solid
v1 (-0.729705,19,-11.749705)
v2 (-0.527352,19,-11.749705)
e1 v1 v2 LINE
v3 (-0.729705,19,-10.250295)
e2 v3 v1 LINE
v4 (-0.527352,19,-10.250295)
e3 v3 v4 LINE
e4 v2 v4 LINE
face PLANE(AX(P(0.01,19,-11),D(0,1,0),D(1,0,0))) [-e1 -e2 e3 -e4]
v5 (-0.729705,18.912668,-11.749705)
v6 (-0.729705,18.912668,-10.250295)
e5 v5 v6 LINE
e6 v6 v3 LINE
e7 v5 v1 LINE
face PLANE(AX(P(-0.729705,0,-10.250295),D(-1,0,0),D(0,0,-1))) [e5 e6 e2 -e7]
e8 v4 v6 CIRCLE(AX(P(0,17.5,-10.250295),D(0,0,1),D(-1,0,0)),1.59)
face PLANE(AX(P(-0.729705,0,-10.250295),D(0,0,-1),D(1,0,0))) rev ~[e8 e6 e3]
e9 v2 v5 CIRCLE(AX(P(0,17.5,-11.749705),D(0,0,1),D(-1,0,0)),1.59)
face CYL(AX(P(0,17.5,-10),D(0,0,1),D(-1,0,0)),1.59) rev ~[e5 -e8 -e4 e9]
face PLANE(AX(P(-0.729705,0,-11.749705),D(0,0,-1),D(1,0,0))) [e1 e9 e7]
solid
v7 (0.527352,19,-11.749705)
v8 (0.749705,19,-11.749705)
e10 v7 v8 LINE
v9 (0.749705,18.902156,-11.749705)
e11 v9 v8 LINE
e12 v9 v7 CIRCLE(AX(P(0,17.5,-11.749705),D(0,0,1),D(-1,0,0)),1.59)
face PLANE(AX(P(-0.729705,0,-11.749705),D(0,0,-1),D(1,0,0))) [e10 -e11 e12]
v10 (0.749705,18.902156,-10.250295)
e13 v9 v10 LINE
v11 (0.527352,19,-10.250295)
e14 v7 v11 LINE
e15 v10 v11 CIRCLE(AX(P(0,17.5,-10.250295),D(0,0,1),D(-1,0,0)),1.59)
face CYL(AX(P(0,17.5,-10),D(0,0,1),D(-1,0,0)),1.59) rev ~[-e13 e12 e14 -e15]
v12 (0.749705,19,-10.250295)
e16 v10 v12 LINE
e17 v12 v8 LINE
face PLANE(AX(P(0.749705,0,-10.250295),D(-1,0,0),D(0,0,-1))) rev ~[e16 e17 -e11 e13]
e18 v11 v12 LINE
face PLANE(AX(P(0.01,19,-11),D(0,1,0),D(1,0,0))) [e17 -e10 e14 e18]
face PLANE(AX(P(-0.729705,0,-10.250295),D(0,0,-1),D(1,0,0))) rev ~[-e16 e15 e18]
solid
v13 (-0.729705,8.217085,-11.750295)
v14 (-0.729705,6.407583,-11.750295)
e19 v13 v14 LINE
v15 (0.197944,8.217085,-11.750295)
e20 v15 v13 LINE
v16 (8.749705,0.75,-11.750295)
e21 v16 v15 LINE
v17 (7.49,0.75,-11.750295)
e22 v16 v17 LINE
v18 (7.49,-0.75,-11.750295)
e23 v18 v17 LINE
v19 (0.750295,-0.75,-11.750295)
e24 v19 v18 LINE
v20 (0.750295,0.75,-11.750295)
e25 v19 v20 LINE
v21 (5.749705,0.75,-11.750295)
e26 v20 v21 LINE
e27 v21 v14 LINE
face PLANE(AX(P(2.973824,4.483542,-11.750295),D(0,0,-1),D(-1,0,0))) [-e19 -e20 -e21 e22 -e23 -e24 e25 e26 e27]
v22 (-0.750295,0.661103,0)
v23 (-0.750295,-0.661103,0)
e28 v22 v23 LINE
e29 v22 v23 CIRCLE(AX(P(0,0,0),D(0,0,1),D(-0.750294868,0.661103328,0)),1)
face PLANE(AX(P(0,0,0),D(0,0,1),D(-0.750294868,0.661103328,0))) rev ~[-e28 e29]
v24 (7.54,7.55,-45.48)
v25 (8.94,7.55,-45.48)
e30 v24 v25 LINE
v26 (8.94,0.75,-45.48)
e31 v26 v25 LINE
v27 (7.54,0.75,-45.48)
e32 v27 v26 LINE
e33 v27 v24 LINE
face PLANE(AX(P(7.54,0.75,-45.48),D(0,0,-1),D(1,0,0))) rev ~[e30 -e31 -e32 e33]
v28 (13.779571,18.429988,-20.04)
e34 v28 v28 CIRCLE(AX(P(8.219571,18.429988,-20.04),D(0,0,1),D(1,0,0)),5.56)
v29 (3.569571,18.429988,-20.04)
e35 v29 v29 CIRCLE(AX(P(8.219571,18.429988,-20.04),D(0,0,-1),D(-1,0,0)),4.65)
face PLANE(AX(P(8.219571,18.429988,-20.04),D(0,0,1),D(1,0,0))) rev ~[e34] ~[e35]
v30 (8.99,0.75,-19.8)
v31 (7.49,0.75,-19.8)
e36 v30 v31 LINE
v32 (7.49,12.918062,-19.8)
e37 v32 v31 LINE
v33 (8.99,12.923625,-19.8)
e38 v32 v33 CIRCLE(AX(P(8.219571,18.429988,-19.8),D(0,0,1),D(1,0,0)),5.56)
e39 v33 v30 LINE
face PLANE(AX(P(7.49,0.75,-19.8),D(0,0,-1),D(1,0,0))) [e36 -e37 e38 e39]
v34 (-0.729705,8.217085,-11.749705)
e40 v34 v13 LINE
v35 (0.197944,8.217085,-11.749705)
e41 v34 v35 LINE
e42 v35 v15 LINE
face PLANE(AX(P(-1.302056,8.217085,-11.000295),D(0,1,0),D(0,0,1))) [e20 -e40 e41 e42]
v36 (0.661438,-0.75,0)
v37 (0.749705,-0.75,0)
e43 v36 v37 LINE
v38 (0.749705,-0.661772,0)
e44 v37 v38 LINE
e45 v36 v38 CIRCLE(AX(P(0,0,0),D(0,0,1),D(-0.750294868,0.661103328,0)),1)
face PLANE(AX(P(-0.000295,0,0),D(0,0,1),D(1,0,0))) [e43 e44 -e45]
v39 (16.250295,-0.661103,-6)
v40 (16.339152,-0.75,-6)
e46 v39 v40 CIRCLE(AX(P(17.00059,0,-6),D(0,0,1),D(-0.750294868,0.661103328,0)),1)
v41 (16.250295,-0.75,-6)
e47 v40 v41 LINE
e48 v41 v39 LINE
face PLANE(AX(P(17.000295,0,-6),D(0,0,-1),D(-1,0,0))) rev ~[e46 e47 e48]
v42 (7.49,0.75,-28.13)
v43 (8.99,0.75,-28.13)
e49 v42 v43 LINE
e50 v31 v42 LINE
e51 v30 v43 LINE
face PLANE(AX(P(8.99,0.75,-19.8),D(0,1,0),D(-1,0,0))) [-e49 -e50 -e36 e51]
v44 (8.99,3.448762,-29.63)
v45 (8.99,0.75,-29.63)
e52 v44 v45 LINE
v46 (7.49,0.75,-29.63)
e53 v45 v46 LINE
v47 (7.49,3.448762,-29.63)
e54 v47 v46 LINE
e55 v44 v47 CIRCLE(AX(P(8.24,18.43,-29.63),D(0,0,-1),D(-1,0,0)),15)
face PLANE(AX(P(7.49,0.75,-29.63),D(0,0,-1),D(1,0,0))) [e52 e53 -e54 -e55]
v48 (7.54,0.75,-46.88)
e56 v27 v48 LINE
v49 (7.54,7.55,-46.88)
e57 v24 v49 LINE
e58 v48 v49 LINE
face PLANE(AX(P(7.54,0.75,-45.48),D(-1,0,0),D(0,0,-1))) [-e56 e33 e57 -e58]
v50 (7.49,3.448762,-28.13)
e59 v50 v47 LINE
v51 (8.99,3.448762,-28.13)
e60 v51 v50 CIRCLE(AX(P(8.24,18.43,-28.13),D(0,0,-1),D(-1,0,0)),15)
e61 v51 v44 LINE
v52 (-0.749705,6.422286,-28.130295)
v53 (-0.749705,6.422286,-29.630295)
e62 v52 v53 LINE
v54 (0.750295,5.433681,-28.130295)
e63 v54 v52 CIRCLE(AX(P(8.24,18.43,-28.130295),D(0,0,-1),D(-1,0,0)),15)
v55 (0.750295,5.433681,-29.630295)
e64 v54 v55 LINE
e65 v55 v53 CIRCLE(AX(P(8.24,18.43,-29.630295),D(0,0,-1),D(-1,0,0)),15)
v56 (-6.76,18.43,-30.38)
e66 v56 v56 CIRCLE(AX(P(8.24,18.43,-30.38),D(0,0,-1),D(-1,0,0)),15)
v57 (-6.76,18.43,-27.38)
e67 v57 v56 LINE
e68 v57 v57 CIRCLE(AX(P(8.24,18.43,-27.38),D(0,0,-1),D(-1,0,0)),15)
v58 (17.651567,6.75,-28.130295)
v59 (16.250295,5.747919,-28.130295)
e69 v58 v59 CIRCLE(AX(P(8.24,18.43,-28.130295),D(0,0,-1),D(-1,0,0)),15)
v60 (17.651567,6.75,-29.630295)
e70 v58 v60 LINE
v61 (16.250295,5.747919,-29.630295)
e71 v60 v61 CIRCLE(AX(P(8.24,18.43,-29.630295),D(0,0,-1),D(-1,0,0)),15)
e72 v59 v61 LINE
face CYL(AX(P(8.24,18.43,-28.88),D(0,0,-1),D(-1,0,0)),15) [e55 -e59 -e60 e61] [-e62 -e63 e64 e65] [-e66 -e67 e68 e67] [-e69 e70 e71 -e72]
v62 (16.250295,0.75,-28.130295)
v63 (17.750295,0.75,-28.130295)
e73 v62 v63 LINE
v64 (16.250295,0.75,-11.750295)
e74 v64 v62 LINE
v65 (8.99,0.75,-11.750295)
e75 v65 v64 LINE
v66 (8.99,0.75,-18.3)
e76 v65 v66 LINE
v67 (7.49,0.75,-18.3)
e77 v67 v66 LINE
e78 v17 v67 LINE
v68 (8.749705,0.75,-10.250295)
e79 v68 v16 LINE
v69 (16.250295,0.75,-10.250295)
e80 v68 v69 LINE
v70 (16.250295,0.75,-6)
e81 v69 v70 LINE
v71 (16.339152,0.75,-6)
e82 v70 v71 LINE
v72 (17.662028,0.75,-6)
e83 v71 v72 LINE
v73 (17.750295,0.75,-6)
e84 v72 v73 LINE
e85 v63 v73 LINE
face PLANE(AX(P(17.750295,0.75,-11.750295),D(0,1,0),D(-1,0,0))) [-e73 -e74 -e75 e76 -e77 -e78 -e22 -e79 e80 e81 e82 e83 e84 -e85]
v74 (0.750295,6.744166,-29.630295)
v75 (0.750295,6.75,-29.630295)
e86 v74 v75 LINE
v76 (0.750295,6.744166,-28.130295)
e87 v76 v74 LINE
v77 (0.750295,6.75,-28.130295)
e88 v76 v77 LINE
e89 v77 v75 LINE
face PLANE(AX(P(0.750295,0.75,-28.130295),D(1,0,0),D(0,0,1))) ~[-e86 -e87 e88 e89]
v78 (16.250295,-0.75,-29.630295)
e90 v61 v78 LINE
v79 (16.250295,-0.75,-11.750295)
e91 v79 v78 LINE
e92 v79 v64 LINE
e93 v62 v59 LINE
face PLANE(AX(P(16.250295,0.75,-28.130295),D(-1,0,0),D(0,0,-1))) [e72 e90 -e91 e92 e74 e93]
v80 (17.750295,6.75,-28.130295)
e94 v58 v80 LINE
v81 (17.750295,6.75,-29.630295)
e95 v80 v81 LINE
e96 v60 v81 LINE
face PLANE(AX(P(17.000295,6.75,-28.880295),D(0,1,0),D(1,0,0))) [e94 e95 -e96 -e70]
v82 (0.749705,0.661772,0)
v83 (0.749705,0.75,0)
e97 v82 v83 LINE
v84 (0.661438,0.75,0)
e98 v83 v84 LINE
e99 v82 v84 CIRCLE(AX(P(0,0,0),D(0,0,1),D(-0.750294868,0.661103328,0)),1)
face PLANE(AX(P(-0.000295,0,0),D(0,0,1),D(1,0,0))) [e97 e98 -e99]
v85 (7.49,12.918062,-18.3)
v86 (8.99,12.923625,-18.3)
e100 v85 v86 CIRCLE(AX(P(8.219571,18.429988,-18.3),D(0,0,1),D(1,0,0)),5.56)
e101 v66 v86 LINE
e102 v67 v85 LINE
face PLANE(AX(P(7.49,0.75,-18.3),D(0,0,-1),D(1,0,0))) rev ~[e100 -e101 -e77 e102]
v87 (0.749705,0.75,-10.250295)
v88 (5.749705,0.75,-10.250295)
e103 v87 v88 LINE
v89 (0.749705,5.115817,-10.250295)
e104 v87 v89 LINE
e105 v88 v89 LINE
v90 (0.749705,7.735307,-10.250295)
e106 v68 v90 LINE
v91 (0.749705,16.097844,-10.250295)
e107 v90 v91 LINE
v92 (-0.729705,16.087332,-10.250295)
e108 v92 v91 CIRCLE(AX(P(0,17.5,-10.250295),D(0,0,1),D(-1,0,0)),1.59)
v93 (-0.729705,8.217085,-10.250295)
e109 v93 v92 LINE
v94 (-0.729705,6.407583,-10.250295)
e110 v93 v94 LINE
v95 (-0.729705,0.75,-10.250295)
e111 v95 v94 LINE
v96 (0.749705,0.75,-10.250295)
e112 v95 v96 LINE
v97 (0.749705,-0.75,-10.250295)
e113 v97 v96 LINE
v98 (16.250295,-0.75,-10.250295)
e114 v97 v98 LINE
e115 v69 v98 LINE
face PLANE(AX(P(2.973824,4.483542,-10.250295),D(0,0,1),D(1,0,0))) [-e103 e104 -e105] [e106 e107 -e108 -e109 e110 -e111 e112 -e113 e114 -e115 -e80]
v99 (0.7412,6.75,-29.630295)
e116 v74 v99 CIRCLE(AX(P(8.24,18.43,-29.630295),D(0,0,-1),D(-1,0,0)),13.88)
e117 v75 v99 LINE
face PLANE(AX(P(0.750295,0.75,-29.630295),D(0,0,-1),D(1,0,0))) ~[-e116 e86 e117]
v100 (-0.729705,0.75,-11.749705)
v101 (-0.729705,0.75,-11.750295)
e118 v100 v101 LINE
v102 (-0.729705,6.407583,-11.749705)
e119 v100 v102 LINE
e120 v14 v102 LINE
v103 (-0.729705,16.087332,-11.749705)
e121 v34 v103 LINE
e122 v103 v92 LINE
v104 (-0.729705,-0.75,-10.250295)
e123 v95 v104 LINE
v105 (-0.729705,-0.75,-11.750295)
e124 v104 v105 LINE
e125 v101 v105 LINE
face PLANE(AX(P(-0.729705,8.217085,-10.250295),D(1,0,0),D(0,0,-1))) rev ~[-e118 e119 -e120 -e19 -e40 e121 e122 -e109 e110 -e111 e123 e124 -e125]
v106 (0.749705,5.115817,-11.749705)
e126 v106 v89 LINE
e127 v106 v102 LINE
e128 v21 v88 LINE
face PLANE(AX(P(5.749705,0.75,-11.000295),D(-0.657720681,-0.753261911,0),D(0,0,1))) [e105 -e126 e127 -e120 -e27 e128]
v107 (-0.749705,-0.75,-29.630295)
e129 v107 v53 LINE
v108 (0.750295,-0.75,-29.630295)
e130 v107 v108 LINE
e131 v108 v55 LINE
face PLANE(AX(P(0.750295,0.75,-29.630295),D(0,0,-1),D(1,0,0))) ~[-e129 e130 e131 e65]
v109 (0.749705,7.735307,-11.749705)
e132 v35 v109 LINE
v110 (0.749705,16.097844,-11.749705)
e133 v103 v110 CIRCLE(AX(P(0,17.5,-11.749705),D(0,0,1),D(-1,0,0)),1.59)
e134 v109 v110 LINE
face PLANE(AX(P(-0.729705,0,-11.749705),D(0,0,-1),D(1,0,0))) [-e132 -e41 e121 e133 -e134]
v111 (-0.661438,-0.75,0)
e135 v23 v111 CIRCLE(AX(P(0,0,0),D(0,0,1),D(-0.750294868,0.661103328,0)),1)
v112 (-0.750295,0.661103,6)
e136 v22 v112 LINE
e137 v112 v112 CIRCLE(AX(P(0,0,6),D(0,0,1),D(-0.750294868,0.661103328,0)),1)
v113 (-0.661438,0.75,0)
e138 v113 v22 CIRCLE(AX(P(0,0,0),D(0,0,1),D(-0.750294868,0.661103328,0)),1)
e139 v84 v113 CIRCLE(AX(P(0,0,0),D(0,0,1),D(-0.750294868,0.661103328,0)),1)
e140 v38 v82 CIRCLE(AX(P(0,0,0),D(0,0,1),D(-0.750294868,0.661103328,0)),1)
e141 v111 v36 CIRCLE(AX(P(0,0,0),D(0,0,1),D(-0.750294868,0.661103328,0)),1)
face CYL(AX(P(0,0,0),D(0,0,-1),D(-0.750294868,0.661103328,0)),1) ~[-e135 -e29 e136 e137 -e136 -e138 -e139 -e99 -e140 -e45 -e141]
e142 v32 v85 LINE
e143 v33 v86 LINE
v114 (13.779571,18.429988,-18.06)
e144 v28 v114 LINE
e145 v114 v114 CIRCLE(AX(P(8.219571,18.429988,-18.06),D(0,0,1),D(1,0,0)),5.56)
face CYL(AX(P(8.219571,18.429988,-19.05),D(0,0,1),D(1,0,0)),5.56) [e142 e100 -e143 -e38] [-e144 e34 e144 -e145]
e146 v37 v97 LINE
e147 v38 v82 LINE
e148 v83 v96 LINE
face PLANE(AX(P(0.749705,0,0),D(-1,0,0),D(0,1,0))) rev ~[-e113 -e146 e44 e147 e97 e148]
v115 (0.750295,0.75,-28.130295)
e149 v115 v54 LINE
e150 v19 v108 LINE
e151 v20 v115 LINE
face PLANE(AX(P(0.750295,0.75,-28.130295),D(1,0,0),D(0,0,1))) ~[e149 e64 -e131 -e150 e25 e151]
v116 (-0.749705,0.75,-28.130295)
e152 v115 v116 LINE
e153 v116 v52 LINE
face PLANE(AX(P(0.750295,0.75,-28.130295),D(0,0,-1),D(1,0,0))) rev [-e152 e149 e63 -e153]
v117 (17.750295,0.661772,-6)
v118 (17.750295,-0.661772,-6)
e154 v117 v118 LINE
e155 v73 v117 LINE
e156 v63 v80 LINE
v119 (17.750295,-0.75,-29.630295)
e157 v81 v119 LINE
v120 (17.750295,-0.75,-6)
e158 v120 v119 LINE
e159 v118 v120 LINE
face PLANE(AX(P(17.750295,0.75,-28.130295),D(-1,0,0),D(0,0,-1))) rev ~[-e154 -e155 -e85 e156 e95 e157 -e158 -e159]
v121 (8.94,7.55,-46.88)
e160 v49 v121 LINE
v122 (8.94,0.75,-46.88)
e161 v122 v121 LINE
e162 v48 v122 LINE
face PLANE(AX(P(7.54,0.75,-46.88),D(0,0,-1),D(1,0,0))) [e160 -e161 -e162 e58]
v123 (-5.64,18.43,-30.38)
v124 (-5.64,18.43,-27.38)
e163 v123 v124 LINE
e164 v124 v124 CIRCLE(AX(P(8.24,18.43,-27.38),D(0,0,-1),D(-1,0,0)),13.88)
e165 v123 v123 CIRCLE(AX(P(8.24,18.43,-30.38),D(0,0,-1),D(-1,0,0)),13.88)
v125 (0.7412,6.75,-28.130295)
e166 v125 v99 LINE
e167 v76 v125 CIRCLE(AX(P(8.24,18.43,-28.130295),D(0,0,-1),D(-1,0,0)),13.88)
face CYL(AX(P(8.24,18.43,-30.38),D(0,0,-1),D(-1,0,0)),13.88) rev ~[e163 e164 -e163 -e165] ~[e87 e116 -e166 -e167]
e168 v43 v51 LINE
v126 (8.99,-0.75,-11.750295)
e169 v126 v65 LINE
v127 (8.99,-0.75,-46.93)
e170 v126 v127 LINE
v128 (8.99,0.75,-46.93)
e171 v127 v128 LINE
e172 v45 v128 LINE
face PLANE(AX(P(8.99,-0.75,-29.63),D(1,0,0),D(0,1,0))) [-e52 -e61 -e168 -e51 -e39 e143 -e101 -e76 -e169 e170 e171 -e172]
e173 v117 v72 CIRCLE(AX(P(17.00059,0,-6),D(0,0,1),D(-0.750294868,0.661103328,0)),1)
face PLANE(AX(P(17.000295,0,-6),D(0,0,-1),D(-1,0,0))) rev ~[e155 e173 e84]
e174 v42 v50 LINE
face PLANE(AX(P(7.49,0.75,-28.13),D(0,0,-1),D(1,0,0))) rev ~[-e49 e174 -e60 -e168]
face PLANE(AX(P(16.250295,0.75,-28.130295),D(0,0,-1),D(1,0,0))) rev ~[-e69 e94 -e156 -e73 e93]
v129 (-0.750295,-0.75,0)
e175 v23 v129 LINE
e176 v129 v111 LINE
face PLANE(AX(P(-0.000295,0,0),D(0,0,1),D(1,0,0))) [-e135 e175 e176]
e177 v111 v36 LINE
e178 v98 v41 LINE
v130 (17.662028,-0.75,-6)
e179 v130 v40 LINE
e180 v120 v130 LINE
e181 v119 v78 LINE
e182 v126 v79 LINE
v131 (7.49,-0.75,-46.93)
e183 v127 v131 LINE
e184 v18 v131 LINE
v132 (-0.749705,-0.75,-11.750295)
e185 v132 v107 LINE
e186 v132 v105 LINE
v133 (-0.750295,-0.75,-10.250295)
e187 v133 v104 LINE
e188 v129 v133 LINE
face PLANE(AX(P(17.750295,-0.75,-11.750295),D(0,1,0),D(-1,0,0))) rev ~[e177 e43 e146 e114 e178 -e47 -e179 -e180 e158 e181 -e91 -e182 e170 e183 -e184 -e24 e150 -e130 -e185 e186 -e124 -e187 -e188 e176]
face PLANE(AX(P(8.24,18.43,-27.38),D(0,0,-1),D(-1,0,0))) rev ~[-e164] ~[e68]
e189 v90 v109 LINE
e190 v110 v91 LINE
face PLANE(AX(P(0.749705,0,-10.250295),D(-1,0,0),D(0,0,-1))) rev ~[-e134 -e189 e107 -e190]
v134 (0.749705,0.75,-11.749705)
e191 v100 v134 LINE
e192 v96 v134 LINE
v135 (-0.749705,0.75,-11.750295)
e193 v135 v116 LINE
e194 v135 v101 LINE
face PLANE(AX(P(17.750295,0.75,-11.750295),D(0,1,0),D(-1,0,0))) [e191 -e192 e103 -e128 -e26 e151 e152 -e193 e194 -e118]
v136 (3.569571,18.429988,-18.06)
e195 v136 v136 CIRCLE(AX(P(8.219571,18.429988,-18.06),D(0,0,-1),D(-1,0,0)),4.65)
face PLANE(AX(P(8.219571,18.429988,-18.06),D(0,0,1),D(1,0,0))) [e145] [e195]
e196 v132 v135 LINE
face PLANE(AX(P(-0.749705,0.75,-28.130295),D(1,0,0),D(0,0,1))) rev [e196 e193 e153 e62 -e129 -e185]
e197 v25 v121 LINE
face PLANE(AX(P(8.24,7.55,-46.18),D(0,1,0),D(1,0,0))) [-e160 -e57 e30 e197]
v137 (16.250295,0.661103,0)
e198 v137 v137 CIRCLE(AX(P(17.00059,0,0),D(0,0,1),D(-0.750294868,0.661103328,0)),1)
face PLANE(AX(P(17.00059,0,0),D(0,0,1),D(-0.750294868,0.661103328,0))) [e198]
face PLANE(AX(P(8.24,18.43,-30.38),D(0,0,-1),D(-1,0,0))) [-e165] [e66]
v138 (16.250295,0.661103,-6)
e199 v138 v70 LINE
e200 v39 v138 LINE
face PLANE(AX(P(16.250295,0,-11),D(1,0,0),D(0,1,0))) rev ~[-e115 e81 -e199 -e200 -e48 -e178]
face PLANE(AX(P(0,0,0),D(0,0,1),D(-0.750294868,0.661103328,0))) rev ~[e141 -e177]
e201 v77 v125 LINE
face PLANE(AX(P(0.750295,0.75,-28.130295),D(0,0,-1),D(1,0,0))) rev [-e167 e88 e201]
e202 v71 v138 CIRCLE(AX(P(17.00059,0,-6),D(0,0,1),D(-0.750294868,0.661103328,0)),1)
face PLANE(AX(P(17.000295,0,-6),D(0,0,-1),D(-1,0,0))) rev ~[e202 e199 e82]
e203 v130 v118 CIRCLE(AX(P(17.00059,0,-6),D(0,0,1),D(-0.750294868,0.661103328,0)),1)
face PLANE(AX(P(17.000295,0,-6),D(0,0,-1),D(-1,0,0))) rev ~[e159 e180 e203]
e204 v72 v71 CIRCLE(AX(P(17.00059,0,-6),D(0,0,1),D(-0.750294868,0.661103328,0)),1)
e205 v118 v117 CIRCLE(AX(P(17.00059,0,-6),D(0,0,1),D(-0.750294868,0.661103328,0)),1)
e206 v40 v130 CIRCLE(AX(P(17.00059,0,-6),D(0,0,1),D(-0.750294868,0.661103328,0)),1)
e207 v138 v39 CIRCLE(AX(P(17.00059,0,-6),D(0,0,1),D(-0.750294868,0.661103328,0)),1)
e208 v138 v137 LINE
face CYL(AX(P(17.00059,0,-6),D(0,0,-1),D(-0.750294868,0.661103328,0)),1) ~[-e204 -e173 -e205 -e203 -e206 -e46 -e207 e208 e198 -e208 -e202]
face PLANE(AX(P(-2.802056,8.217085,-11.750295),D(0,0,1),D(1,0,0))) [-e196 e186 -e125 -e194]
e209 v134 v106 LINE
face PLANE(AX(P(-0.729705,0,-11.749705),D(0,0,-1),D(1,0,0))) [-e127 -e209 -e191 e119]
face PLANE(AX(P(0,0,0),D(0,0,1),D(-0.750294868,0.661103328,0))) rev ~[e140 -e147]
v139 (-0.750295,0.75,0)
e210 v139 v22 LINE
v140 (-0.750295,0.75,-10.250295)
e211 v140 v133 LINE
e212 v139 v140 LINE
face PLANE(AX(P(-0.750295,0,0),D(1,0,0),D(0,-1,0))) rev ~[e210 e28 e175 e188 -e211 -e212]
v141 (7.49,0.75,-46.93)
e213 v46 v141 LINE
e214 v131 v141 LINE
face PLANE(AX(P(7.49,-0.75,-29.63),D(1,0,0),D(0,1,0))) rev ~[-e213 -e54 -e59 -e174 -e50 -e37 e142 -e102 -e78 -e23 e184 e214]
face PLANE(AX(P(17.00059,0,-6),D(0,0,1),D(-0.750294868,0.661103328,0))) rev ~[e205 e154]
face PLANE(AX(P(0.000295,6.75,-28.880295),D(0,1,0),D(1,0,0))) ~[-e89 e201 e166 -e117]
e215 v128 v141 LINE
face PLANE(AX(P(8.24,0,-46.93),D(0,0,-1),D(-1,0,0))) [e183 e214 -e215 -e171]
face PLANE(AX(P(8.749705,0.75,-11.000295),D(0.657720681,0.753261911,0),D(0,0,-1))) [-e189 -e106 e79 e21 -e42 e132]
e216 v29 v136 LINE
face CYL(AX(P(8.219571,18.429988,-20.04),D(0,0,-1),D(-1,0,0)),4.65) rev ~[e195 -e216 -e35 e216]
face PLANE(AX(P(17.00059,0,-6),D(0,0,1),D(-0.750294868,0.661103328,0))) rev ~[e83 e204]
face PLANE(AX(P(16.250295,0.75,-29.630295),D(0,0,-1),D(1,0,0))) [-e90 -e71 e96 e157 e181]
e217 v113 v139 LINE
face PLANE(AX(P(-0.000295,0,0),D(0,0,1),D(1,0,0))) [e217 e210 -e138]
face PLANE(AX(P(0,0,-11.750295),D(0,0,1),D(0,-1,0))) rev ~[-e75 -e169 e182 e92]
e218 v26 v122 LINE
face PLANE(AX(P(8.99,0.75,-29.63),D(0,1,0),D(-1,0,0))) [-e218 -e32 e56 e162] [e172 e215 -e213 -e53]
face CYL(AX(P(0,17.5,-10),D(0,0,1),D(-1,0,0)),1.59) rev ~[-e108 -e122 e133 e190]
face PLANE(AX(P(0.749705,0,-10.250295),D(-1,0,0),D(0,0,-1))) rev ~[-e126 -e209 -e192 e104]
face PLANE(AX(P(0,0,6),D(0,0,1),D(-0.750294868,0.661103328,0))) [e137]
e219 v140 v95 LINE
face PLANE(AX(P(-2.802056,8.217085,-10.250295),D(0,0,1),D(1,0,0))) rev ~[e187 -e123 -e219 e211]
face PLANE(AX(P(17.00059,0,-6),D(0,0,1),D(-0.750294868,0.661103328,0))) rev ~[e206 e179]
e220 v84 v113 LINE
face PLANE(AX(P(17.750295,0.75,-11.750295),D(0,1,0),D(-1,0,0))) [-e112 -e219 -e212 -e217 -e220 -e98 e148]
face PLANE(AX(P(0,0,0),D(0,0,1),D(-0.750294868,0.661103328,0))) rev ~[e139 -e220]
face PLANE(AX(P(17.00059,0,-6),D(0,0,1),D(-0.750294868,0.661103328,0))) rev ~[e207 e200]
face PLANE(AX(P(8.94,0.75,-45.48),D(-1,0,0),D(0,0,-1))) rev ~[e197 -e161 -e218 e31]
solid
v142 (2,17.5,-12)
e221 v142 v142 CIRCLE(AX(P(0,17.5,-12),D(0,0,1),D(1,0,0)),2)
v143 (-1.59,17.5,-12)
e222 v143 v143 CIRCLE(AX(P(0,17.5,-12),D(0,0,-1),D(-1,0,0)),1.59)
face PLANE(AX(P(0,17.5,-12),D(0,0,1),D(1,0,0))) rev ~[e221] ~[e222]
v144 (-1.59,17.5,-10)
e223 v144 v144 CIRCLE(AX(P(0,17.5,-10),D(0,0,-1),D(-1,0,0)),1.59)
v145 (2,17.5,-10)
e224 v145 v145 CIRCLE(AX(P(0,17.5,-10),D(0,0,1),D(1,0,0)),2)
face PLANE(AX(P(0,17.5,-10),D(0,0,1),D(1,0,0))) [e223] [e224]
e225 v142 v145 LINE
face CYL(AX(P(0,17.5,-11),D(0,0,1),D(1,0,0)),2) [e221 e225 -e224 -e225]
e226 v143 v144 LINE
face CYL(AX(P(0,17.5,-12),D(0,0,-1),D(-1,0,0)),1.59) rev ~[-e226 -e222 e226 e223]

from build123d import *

# Parameters (mm, degrees)
SKETCH3_W            = 1.5
SKETCH3_H            = 1.5
SKETCH7_W            = 1.479410264
SKETCH7_H            = 1.499410264
BOSS_EXTRUDE1_DEPTH  = 19
SKETCH12_R           = 2
BOSS_EXTRUDE4_DEPTH  = 1
SKETCH16_R           = 1.59
CUT_EXTRUDE1_DEPTH   = 10
SKETCH17_R           = 1
BOSS_EXTRUDE5_DEPTH  = 6
SKETCH18_R           = 1
BOSS_EXTRUDE6_DEPTH  = 6
SKETCH19_W           = 1.5
SKETCH19_H           = 1.5
BOSS_EXTRUDE7_DEPTH  = 8.05
SKETCH21_W           = 1.5
SKETCH21_H           = 1.5
BOSS_EXTRUDE8_DEPTH  = 17.68
SKETCH22_R           = 5.56
BOSS_EXTRUDE9_DEPTH  = 0.99
SKETCH23_R           = 4.65
CUT_EXTRUDE2_DEPTH   = 5
SKETCH24_W           = 1.5
SKETCH24_H           = 1.5
BOSS_EXTRUDE10_DEPTH = 9.83
SKETCH25_W           = 1.5
SKETCH25_H           = 1.5
BOSS_EXTRUDE11_DEPTH = 3
SKETCH27_R           = 15
BOSS_EXTRUDE12_DEPTH = 1.5
SKETCH28_R           = 13.88
CUT_EXTRUDE3_DEPTH   = 3
SKETCH30_R           = 1.59
CUT_EXTRUDE5_DEPTH   = 3
SKETCH31_W           = 1.5
SKETCH31_H           = 1.5
BOSS_EXTRUDE13_DEPTH = 17.3
SKETCH32_W           = 1.4
SKETCH32_H           = 1.4
BOSS_EXTRUDE14_DEPTH = 6.8
SKETCH33_W           = 1.5
SKETCH33_H           = 1.5
BOSS_EXTRUDE15_DEPTH = 17.88
SKETCH34_W           = 1.5
SKETCH34_H           = 1.5
BOSS_EXTRUDE16_DEPTH = 6
SKETCH36_W           = 3
SKETCH36_H           = 1.5
SKETCH40_W           = 2.072351247
SKETCH40_H           = 1.5
CUT_EXTRUDE6_DEPTH   = 17.13


with BuildPart() as part:
    # Sweep3: sweep along a path in Sketch4
    with BuildLine(Plane(origin=(0, 0, 0), x_dir=(1, 0, 0), z_dir=(0, 1, 0))) as sweep3_path:
        Line((0, 0), (0, 11))
        Line((0, 11), (17, 11))
        Line((17, 11), (17, 6))
    # Sketch3 → Sweep3 (sweep)
    with BuildSketch(Plane.XY):
        with Locations((-0.000294868, 0)):
            Rectangle(SKETCH3_W, SKETCH3_H)
    sweep(path=sweep3_path.line, transition=Transition.RIGHT)

    # Sketch7 → Boss-Extrude1 (add)
    with BuildSketch(Plane(origin=(0, 0, 0), x_dir=(1, 0, 0), z_dir=(0, 1, 0))):
        with Locations((0.01, 11)):
            Rectangle(SKETCH7_W, SKETCH7_H)
    extrude(amount=BOSS_EXTRUDE1_DEPTH)

    # Sketch17 → Boss-Extrude5 (add)
    with BuildSketch(Plane.XY):
        with Locations(Location((0, 0, 0), (0, 0, 138.615926737))):
            Circle(SKETCH17_R)
    extrude(amount=BOSS_EXTRUDE5_DEPTH)

    # Sketch18 → Boss-Extrude6 (add)
    with BuildSketch(Plane.XY.offset(-6)):
        with Locations(Location((17.000589736, 0, 0), (0, 0, 138.615926737))):
            Circle(SKETCH18_R)
    extrude(amount=BOSS_EXTRUDE6_DEPTH)

    # Sketch30 → Cut-Extrude5 (cut)
    with BuildSketch(Plane.XY.offset(-10)):
        with Locations(Location((0, 17.5, 0), (0, 0, 180))):
            Circle(SKETCH30_R)
    extrude(amount=-CUT_EXTRUDE5_DEPTH, mode=Mode.SUBTRACT)


with BuildPart() as body_2:
    # Sketch12 → Boss-Extrude4 (new, symmetric)
    with BuildSketch(Plane.XY.offset(-11)):
        with Locations((0, 17.5)):
            Circle(SKETCH12_R)
    extrude(amount=BOSS_EXTRUDE4_DEPTH, both=True)

    # Sketch16 → Cut-Extrude1 (cut)
    with BuildSketch(Plane(origin=(0, 0, -12), x_dir=(-1, 0, 0), z_dir=(0, 0, -1))):
        with Locations((0, 17.5)):
            Circle(SKETCH16_R)
    extrude(amount=-CUT_EXTRUDE1_DEPTH, mode=Mode.SUBTRACT)


with BuildPart() as body_3:
    # Sketch19 → Boss-Extrude7 (new body)
    with BuildSketch(Plane.XY.offset(-11.75)):
        with Locations((8.24, 0)):
            Rectangle(SKETCH19_W, SKETCH19_H)
    extrude(amount=-BOSS_EXTRUDE7_DEPTH)

    # Sketch21 → Boss-Extrude8 (add)
    with BuildSketch(Plane(origin=(0, 0.75, 0), x_dir=(1, 0, 0), z_dir=(0, 1, 0))):
        with Locations((8.24, 19.05)):
            Rectangle(SKETCH21_W, SKETCH21_H)
    extrude(amount=BOSS_EXTRUDE8_DEPTH)

    # Sketch22 → Boss-Extrude9 (add, symmetric)
    with BuildSketch(Plane.XY.offset(-19.05)):
        with Locations((8.219571099, 18.429988197)):
            Circle(SKETCH22_R)
    extrude(amount=BOSS_EXTRUDE9_DEPTH, both=True)

    # Sketch23 → Cut-Extrude2 (cut)
    with BuildSketch(Plane(origin=(0, 0, -20.04), x_dir=(-1, 0, 0), z_dir=(0, 0, -1))):
        with Locations((-8.219571099, 18.429988197)):
            Circle(SKETCH23_R)
    extrude(amount=-CUT_EXTRUDE2_DEPTH, mode=Mode.SUBTRACT)

    # Sketch24 → Boss-Extrude10 (add)
    with BuildSketch(Plane(origin=(0, 0, -19.8), x_dir=(-1, 0, 0), z_dir=(0, 0, -1))):
        with Locations((-8.24, 0)):
            Rectangle(SKETCH24_W, SKETCH24_H)
    extrude(amount=BOSS_EXTRUDE10_DEPTH)

    # Sketch25 → Boss-Extrude11 (add)
    with BuildSketch(Plane(origin=(0, 0.75, 0), x_dir=(1, 0, 0), z_dir=(0, 1, 0))):
        with Locations((8.24, 28.88)):
            Rectangle(SKETCH25_W, SKETCH25_H)
    extrude(amount=BOSS_EXTRUDE11_DEPTH)

    # Sketch27 → Boss-Extrude12 (add, symmetric)
    with BuildSketch(Plane(origin=(0, 0, -28.88), x_dir=(-1, 0, 0), z_dir=(0, 0, -1))):
        with Locations((-8.24, 18.43)):
            Circle(SKETCH27_R)
    extrude(amount=BOSS_EXTRUDE12_DEPTH, both=True)

    # Sketch28 → Cut-Extrude3 (cut)
    with BuildSketch(Plane(origin=(0, 0, -30.38), x_dir=(-1, 0, 0), z_dir=(0, 0, -1))):
        with Locations((-8.24, 18.43)):
            Circle(SKETCH28_R)
    extrude(amount=-CUT_EXTRUDE3_DEPTH, mode=Mode.SUBTRACT)

    # Sketch31 → Boss-Extrude13 (add)
    with BuildSketch(Plane(origin=(0, 0, -29.63), x_dir=(-1, 0, 0), z_dir=(0, 0, -1))):
        with Locations((-8.24, 0)):
            Rectangle(SKETCH31_W, SKETCH31_H)
    extrude(amount=BOSS_EXTRUDE13_DEPTH)

    # Sketch32 → Boss-Extrude14 (add)
    with BuildSketch(Plane(origin=(0, 0.75, 0), x_dir=(1, 0, 0), z_dir=(0, 1, 0))):
        with Locations((8.24, 46.18)):
            Rectangle(SKETCH32_W, SKETCH32_H)
    extrude(amount=BOSS_EXTRUDE14_DEPTH)


with BuildPart() as cut_extrude5_piece_1:
    # of the separate pieces the step leaves, piece 1, a body of its own (cut_extrude5_pieces)
    add(part.part.solids().sort_by_distance((0.749705132, 0.75, 0))[0])


    add(body_3.part)  # Boss-Extrude15 merges body 3
    # Sketch33 → Boss-Extrude15 (add)
    with BuildSketch(Plane(origin=(0, 0, -11.750294868), x_dir=(-1, 0, 0), z_dir=(0, 0, -1))):
        with Locations((-17.000294868, 0)):
            Rectangle(SKETCH33_W, SKETCH33_H)
    boss_extrude15 = extrude(amount=BOSS_EXTRUDE15_DEPTH)

    # Sketch34 → Boss-Extrude16 (add)
    with BuildSketch(Plane(origin=(0, 0.75, 0), x_dir=(1, 0, 0), z_dir=(0, 1, 0))):
        with Locations((17.000294868, 28.880294868)):
            Rectangle(SKETCH34_W, SKETCH34_H)
    boss_extrude16 = extrude(amount=BOSS_EXTRUDE16_DEPTH)

    # Mirror1: Boss-Extrude15, Boss-Extrude16 across plane
    add(boss_extrude15.mirror(Plane.ZY.offset(-8.500294868)))
    add(boss_extrude16.mirror(Plane.ZY.offset(-8.500294868)))

    # Sweep4: sweep along a path in Sketch39
    with BuildLine(Plane.XY.offset(-11.000294868)) as sweep4_path:
        Line((8.24, 0.75), (-0.31176151, 8.217084581))
    # Sketch36 → Sweep4 (sweep)
    with BuildSketch(Plane(origin=(0, 0.75, 0), x_dir=(1, 0, 0), z_dir=(0, 1, 0))):
        with Locations((7.249705132, 11.000294868)):
            Rectangle(SKETCH36_W, SKETCH36_H)
    sweep(path=sweep4_path.line)

    # Sketch40 → Cut-Extrude6 (cut)
    with BuildSketch(Plane(origin=(0, 8.217084581, 0), x_dir=(1, 0, 0), z_dir=(0, 1, 0))):
        with Locations((-1.765880756, 11.000294868)):
            Rectangle(SKETCH40_W, SKETCH40_H)
    extrude(amount=-CUT_EXTRUDE6_DEPTH, mode=Mode.SUBTRACT)


with BuildPart() as cut_extrude5_piece_2:
    # of the separate pieces the step leaves, piece 2, a body of its own (cut_extrude5_pieces)
    add(part.part.solids().sort_by_distance((0.749705132, 18.902156273, -10.250294868))[0])


with BuildPart() as cut_extrude5_piece_3:
    # of the separate pieces the step leaves, piece 3, a body of its own (cut_extrude5_pieces)
    add(part.part.solids().sort_by_distance((-0.729705132, 18.912667838, -10.250294868))[0])


solid = Compound([body_2.part, cut_extrude5_piece_1.part, cut_extrude5_piece_2.part, cut_extrude5_piece_3.part])
